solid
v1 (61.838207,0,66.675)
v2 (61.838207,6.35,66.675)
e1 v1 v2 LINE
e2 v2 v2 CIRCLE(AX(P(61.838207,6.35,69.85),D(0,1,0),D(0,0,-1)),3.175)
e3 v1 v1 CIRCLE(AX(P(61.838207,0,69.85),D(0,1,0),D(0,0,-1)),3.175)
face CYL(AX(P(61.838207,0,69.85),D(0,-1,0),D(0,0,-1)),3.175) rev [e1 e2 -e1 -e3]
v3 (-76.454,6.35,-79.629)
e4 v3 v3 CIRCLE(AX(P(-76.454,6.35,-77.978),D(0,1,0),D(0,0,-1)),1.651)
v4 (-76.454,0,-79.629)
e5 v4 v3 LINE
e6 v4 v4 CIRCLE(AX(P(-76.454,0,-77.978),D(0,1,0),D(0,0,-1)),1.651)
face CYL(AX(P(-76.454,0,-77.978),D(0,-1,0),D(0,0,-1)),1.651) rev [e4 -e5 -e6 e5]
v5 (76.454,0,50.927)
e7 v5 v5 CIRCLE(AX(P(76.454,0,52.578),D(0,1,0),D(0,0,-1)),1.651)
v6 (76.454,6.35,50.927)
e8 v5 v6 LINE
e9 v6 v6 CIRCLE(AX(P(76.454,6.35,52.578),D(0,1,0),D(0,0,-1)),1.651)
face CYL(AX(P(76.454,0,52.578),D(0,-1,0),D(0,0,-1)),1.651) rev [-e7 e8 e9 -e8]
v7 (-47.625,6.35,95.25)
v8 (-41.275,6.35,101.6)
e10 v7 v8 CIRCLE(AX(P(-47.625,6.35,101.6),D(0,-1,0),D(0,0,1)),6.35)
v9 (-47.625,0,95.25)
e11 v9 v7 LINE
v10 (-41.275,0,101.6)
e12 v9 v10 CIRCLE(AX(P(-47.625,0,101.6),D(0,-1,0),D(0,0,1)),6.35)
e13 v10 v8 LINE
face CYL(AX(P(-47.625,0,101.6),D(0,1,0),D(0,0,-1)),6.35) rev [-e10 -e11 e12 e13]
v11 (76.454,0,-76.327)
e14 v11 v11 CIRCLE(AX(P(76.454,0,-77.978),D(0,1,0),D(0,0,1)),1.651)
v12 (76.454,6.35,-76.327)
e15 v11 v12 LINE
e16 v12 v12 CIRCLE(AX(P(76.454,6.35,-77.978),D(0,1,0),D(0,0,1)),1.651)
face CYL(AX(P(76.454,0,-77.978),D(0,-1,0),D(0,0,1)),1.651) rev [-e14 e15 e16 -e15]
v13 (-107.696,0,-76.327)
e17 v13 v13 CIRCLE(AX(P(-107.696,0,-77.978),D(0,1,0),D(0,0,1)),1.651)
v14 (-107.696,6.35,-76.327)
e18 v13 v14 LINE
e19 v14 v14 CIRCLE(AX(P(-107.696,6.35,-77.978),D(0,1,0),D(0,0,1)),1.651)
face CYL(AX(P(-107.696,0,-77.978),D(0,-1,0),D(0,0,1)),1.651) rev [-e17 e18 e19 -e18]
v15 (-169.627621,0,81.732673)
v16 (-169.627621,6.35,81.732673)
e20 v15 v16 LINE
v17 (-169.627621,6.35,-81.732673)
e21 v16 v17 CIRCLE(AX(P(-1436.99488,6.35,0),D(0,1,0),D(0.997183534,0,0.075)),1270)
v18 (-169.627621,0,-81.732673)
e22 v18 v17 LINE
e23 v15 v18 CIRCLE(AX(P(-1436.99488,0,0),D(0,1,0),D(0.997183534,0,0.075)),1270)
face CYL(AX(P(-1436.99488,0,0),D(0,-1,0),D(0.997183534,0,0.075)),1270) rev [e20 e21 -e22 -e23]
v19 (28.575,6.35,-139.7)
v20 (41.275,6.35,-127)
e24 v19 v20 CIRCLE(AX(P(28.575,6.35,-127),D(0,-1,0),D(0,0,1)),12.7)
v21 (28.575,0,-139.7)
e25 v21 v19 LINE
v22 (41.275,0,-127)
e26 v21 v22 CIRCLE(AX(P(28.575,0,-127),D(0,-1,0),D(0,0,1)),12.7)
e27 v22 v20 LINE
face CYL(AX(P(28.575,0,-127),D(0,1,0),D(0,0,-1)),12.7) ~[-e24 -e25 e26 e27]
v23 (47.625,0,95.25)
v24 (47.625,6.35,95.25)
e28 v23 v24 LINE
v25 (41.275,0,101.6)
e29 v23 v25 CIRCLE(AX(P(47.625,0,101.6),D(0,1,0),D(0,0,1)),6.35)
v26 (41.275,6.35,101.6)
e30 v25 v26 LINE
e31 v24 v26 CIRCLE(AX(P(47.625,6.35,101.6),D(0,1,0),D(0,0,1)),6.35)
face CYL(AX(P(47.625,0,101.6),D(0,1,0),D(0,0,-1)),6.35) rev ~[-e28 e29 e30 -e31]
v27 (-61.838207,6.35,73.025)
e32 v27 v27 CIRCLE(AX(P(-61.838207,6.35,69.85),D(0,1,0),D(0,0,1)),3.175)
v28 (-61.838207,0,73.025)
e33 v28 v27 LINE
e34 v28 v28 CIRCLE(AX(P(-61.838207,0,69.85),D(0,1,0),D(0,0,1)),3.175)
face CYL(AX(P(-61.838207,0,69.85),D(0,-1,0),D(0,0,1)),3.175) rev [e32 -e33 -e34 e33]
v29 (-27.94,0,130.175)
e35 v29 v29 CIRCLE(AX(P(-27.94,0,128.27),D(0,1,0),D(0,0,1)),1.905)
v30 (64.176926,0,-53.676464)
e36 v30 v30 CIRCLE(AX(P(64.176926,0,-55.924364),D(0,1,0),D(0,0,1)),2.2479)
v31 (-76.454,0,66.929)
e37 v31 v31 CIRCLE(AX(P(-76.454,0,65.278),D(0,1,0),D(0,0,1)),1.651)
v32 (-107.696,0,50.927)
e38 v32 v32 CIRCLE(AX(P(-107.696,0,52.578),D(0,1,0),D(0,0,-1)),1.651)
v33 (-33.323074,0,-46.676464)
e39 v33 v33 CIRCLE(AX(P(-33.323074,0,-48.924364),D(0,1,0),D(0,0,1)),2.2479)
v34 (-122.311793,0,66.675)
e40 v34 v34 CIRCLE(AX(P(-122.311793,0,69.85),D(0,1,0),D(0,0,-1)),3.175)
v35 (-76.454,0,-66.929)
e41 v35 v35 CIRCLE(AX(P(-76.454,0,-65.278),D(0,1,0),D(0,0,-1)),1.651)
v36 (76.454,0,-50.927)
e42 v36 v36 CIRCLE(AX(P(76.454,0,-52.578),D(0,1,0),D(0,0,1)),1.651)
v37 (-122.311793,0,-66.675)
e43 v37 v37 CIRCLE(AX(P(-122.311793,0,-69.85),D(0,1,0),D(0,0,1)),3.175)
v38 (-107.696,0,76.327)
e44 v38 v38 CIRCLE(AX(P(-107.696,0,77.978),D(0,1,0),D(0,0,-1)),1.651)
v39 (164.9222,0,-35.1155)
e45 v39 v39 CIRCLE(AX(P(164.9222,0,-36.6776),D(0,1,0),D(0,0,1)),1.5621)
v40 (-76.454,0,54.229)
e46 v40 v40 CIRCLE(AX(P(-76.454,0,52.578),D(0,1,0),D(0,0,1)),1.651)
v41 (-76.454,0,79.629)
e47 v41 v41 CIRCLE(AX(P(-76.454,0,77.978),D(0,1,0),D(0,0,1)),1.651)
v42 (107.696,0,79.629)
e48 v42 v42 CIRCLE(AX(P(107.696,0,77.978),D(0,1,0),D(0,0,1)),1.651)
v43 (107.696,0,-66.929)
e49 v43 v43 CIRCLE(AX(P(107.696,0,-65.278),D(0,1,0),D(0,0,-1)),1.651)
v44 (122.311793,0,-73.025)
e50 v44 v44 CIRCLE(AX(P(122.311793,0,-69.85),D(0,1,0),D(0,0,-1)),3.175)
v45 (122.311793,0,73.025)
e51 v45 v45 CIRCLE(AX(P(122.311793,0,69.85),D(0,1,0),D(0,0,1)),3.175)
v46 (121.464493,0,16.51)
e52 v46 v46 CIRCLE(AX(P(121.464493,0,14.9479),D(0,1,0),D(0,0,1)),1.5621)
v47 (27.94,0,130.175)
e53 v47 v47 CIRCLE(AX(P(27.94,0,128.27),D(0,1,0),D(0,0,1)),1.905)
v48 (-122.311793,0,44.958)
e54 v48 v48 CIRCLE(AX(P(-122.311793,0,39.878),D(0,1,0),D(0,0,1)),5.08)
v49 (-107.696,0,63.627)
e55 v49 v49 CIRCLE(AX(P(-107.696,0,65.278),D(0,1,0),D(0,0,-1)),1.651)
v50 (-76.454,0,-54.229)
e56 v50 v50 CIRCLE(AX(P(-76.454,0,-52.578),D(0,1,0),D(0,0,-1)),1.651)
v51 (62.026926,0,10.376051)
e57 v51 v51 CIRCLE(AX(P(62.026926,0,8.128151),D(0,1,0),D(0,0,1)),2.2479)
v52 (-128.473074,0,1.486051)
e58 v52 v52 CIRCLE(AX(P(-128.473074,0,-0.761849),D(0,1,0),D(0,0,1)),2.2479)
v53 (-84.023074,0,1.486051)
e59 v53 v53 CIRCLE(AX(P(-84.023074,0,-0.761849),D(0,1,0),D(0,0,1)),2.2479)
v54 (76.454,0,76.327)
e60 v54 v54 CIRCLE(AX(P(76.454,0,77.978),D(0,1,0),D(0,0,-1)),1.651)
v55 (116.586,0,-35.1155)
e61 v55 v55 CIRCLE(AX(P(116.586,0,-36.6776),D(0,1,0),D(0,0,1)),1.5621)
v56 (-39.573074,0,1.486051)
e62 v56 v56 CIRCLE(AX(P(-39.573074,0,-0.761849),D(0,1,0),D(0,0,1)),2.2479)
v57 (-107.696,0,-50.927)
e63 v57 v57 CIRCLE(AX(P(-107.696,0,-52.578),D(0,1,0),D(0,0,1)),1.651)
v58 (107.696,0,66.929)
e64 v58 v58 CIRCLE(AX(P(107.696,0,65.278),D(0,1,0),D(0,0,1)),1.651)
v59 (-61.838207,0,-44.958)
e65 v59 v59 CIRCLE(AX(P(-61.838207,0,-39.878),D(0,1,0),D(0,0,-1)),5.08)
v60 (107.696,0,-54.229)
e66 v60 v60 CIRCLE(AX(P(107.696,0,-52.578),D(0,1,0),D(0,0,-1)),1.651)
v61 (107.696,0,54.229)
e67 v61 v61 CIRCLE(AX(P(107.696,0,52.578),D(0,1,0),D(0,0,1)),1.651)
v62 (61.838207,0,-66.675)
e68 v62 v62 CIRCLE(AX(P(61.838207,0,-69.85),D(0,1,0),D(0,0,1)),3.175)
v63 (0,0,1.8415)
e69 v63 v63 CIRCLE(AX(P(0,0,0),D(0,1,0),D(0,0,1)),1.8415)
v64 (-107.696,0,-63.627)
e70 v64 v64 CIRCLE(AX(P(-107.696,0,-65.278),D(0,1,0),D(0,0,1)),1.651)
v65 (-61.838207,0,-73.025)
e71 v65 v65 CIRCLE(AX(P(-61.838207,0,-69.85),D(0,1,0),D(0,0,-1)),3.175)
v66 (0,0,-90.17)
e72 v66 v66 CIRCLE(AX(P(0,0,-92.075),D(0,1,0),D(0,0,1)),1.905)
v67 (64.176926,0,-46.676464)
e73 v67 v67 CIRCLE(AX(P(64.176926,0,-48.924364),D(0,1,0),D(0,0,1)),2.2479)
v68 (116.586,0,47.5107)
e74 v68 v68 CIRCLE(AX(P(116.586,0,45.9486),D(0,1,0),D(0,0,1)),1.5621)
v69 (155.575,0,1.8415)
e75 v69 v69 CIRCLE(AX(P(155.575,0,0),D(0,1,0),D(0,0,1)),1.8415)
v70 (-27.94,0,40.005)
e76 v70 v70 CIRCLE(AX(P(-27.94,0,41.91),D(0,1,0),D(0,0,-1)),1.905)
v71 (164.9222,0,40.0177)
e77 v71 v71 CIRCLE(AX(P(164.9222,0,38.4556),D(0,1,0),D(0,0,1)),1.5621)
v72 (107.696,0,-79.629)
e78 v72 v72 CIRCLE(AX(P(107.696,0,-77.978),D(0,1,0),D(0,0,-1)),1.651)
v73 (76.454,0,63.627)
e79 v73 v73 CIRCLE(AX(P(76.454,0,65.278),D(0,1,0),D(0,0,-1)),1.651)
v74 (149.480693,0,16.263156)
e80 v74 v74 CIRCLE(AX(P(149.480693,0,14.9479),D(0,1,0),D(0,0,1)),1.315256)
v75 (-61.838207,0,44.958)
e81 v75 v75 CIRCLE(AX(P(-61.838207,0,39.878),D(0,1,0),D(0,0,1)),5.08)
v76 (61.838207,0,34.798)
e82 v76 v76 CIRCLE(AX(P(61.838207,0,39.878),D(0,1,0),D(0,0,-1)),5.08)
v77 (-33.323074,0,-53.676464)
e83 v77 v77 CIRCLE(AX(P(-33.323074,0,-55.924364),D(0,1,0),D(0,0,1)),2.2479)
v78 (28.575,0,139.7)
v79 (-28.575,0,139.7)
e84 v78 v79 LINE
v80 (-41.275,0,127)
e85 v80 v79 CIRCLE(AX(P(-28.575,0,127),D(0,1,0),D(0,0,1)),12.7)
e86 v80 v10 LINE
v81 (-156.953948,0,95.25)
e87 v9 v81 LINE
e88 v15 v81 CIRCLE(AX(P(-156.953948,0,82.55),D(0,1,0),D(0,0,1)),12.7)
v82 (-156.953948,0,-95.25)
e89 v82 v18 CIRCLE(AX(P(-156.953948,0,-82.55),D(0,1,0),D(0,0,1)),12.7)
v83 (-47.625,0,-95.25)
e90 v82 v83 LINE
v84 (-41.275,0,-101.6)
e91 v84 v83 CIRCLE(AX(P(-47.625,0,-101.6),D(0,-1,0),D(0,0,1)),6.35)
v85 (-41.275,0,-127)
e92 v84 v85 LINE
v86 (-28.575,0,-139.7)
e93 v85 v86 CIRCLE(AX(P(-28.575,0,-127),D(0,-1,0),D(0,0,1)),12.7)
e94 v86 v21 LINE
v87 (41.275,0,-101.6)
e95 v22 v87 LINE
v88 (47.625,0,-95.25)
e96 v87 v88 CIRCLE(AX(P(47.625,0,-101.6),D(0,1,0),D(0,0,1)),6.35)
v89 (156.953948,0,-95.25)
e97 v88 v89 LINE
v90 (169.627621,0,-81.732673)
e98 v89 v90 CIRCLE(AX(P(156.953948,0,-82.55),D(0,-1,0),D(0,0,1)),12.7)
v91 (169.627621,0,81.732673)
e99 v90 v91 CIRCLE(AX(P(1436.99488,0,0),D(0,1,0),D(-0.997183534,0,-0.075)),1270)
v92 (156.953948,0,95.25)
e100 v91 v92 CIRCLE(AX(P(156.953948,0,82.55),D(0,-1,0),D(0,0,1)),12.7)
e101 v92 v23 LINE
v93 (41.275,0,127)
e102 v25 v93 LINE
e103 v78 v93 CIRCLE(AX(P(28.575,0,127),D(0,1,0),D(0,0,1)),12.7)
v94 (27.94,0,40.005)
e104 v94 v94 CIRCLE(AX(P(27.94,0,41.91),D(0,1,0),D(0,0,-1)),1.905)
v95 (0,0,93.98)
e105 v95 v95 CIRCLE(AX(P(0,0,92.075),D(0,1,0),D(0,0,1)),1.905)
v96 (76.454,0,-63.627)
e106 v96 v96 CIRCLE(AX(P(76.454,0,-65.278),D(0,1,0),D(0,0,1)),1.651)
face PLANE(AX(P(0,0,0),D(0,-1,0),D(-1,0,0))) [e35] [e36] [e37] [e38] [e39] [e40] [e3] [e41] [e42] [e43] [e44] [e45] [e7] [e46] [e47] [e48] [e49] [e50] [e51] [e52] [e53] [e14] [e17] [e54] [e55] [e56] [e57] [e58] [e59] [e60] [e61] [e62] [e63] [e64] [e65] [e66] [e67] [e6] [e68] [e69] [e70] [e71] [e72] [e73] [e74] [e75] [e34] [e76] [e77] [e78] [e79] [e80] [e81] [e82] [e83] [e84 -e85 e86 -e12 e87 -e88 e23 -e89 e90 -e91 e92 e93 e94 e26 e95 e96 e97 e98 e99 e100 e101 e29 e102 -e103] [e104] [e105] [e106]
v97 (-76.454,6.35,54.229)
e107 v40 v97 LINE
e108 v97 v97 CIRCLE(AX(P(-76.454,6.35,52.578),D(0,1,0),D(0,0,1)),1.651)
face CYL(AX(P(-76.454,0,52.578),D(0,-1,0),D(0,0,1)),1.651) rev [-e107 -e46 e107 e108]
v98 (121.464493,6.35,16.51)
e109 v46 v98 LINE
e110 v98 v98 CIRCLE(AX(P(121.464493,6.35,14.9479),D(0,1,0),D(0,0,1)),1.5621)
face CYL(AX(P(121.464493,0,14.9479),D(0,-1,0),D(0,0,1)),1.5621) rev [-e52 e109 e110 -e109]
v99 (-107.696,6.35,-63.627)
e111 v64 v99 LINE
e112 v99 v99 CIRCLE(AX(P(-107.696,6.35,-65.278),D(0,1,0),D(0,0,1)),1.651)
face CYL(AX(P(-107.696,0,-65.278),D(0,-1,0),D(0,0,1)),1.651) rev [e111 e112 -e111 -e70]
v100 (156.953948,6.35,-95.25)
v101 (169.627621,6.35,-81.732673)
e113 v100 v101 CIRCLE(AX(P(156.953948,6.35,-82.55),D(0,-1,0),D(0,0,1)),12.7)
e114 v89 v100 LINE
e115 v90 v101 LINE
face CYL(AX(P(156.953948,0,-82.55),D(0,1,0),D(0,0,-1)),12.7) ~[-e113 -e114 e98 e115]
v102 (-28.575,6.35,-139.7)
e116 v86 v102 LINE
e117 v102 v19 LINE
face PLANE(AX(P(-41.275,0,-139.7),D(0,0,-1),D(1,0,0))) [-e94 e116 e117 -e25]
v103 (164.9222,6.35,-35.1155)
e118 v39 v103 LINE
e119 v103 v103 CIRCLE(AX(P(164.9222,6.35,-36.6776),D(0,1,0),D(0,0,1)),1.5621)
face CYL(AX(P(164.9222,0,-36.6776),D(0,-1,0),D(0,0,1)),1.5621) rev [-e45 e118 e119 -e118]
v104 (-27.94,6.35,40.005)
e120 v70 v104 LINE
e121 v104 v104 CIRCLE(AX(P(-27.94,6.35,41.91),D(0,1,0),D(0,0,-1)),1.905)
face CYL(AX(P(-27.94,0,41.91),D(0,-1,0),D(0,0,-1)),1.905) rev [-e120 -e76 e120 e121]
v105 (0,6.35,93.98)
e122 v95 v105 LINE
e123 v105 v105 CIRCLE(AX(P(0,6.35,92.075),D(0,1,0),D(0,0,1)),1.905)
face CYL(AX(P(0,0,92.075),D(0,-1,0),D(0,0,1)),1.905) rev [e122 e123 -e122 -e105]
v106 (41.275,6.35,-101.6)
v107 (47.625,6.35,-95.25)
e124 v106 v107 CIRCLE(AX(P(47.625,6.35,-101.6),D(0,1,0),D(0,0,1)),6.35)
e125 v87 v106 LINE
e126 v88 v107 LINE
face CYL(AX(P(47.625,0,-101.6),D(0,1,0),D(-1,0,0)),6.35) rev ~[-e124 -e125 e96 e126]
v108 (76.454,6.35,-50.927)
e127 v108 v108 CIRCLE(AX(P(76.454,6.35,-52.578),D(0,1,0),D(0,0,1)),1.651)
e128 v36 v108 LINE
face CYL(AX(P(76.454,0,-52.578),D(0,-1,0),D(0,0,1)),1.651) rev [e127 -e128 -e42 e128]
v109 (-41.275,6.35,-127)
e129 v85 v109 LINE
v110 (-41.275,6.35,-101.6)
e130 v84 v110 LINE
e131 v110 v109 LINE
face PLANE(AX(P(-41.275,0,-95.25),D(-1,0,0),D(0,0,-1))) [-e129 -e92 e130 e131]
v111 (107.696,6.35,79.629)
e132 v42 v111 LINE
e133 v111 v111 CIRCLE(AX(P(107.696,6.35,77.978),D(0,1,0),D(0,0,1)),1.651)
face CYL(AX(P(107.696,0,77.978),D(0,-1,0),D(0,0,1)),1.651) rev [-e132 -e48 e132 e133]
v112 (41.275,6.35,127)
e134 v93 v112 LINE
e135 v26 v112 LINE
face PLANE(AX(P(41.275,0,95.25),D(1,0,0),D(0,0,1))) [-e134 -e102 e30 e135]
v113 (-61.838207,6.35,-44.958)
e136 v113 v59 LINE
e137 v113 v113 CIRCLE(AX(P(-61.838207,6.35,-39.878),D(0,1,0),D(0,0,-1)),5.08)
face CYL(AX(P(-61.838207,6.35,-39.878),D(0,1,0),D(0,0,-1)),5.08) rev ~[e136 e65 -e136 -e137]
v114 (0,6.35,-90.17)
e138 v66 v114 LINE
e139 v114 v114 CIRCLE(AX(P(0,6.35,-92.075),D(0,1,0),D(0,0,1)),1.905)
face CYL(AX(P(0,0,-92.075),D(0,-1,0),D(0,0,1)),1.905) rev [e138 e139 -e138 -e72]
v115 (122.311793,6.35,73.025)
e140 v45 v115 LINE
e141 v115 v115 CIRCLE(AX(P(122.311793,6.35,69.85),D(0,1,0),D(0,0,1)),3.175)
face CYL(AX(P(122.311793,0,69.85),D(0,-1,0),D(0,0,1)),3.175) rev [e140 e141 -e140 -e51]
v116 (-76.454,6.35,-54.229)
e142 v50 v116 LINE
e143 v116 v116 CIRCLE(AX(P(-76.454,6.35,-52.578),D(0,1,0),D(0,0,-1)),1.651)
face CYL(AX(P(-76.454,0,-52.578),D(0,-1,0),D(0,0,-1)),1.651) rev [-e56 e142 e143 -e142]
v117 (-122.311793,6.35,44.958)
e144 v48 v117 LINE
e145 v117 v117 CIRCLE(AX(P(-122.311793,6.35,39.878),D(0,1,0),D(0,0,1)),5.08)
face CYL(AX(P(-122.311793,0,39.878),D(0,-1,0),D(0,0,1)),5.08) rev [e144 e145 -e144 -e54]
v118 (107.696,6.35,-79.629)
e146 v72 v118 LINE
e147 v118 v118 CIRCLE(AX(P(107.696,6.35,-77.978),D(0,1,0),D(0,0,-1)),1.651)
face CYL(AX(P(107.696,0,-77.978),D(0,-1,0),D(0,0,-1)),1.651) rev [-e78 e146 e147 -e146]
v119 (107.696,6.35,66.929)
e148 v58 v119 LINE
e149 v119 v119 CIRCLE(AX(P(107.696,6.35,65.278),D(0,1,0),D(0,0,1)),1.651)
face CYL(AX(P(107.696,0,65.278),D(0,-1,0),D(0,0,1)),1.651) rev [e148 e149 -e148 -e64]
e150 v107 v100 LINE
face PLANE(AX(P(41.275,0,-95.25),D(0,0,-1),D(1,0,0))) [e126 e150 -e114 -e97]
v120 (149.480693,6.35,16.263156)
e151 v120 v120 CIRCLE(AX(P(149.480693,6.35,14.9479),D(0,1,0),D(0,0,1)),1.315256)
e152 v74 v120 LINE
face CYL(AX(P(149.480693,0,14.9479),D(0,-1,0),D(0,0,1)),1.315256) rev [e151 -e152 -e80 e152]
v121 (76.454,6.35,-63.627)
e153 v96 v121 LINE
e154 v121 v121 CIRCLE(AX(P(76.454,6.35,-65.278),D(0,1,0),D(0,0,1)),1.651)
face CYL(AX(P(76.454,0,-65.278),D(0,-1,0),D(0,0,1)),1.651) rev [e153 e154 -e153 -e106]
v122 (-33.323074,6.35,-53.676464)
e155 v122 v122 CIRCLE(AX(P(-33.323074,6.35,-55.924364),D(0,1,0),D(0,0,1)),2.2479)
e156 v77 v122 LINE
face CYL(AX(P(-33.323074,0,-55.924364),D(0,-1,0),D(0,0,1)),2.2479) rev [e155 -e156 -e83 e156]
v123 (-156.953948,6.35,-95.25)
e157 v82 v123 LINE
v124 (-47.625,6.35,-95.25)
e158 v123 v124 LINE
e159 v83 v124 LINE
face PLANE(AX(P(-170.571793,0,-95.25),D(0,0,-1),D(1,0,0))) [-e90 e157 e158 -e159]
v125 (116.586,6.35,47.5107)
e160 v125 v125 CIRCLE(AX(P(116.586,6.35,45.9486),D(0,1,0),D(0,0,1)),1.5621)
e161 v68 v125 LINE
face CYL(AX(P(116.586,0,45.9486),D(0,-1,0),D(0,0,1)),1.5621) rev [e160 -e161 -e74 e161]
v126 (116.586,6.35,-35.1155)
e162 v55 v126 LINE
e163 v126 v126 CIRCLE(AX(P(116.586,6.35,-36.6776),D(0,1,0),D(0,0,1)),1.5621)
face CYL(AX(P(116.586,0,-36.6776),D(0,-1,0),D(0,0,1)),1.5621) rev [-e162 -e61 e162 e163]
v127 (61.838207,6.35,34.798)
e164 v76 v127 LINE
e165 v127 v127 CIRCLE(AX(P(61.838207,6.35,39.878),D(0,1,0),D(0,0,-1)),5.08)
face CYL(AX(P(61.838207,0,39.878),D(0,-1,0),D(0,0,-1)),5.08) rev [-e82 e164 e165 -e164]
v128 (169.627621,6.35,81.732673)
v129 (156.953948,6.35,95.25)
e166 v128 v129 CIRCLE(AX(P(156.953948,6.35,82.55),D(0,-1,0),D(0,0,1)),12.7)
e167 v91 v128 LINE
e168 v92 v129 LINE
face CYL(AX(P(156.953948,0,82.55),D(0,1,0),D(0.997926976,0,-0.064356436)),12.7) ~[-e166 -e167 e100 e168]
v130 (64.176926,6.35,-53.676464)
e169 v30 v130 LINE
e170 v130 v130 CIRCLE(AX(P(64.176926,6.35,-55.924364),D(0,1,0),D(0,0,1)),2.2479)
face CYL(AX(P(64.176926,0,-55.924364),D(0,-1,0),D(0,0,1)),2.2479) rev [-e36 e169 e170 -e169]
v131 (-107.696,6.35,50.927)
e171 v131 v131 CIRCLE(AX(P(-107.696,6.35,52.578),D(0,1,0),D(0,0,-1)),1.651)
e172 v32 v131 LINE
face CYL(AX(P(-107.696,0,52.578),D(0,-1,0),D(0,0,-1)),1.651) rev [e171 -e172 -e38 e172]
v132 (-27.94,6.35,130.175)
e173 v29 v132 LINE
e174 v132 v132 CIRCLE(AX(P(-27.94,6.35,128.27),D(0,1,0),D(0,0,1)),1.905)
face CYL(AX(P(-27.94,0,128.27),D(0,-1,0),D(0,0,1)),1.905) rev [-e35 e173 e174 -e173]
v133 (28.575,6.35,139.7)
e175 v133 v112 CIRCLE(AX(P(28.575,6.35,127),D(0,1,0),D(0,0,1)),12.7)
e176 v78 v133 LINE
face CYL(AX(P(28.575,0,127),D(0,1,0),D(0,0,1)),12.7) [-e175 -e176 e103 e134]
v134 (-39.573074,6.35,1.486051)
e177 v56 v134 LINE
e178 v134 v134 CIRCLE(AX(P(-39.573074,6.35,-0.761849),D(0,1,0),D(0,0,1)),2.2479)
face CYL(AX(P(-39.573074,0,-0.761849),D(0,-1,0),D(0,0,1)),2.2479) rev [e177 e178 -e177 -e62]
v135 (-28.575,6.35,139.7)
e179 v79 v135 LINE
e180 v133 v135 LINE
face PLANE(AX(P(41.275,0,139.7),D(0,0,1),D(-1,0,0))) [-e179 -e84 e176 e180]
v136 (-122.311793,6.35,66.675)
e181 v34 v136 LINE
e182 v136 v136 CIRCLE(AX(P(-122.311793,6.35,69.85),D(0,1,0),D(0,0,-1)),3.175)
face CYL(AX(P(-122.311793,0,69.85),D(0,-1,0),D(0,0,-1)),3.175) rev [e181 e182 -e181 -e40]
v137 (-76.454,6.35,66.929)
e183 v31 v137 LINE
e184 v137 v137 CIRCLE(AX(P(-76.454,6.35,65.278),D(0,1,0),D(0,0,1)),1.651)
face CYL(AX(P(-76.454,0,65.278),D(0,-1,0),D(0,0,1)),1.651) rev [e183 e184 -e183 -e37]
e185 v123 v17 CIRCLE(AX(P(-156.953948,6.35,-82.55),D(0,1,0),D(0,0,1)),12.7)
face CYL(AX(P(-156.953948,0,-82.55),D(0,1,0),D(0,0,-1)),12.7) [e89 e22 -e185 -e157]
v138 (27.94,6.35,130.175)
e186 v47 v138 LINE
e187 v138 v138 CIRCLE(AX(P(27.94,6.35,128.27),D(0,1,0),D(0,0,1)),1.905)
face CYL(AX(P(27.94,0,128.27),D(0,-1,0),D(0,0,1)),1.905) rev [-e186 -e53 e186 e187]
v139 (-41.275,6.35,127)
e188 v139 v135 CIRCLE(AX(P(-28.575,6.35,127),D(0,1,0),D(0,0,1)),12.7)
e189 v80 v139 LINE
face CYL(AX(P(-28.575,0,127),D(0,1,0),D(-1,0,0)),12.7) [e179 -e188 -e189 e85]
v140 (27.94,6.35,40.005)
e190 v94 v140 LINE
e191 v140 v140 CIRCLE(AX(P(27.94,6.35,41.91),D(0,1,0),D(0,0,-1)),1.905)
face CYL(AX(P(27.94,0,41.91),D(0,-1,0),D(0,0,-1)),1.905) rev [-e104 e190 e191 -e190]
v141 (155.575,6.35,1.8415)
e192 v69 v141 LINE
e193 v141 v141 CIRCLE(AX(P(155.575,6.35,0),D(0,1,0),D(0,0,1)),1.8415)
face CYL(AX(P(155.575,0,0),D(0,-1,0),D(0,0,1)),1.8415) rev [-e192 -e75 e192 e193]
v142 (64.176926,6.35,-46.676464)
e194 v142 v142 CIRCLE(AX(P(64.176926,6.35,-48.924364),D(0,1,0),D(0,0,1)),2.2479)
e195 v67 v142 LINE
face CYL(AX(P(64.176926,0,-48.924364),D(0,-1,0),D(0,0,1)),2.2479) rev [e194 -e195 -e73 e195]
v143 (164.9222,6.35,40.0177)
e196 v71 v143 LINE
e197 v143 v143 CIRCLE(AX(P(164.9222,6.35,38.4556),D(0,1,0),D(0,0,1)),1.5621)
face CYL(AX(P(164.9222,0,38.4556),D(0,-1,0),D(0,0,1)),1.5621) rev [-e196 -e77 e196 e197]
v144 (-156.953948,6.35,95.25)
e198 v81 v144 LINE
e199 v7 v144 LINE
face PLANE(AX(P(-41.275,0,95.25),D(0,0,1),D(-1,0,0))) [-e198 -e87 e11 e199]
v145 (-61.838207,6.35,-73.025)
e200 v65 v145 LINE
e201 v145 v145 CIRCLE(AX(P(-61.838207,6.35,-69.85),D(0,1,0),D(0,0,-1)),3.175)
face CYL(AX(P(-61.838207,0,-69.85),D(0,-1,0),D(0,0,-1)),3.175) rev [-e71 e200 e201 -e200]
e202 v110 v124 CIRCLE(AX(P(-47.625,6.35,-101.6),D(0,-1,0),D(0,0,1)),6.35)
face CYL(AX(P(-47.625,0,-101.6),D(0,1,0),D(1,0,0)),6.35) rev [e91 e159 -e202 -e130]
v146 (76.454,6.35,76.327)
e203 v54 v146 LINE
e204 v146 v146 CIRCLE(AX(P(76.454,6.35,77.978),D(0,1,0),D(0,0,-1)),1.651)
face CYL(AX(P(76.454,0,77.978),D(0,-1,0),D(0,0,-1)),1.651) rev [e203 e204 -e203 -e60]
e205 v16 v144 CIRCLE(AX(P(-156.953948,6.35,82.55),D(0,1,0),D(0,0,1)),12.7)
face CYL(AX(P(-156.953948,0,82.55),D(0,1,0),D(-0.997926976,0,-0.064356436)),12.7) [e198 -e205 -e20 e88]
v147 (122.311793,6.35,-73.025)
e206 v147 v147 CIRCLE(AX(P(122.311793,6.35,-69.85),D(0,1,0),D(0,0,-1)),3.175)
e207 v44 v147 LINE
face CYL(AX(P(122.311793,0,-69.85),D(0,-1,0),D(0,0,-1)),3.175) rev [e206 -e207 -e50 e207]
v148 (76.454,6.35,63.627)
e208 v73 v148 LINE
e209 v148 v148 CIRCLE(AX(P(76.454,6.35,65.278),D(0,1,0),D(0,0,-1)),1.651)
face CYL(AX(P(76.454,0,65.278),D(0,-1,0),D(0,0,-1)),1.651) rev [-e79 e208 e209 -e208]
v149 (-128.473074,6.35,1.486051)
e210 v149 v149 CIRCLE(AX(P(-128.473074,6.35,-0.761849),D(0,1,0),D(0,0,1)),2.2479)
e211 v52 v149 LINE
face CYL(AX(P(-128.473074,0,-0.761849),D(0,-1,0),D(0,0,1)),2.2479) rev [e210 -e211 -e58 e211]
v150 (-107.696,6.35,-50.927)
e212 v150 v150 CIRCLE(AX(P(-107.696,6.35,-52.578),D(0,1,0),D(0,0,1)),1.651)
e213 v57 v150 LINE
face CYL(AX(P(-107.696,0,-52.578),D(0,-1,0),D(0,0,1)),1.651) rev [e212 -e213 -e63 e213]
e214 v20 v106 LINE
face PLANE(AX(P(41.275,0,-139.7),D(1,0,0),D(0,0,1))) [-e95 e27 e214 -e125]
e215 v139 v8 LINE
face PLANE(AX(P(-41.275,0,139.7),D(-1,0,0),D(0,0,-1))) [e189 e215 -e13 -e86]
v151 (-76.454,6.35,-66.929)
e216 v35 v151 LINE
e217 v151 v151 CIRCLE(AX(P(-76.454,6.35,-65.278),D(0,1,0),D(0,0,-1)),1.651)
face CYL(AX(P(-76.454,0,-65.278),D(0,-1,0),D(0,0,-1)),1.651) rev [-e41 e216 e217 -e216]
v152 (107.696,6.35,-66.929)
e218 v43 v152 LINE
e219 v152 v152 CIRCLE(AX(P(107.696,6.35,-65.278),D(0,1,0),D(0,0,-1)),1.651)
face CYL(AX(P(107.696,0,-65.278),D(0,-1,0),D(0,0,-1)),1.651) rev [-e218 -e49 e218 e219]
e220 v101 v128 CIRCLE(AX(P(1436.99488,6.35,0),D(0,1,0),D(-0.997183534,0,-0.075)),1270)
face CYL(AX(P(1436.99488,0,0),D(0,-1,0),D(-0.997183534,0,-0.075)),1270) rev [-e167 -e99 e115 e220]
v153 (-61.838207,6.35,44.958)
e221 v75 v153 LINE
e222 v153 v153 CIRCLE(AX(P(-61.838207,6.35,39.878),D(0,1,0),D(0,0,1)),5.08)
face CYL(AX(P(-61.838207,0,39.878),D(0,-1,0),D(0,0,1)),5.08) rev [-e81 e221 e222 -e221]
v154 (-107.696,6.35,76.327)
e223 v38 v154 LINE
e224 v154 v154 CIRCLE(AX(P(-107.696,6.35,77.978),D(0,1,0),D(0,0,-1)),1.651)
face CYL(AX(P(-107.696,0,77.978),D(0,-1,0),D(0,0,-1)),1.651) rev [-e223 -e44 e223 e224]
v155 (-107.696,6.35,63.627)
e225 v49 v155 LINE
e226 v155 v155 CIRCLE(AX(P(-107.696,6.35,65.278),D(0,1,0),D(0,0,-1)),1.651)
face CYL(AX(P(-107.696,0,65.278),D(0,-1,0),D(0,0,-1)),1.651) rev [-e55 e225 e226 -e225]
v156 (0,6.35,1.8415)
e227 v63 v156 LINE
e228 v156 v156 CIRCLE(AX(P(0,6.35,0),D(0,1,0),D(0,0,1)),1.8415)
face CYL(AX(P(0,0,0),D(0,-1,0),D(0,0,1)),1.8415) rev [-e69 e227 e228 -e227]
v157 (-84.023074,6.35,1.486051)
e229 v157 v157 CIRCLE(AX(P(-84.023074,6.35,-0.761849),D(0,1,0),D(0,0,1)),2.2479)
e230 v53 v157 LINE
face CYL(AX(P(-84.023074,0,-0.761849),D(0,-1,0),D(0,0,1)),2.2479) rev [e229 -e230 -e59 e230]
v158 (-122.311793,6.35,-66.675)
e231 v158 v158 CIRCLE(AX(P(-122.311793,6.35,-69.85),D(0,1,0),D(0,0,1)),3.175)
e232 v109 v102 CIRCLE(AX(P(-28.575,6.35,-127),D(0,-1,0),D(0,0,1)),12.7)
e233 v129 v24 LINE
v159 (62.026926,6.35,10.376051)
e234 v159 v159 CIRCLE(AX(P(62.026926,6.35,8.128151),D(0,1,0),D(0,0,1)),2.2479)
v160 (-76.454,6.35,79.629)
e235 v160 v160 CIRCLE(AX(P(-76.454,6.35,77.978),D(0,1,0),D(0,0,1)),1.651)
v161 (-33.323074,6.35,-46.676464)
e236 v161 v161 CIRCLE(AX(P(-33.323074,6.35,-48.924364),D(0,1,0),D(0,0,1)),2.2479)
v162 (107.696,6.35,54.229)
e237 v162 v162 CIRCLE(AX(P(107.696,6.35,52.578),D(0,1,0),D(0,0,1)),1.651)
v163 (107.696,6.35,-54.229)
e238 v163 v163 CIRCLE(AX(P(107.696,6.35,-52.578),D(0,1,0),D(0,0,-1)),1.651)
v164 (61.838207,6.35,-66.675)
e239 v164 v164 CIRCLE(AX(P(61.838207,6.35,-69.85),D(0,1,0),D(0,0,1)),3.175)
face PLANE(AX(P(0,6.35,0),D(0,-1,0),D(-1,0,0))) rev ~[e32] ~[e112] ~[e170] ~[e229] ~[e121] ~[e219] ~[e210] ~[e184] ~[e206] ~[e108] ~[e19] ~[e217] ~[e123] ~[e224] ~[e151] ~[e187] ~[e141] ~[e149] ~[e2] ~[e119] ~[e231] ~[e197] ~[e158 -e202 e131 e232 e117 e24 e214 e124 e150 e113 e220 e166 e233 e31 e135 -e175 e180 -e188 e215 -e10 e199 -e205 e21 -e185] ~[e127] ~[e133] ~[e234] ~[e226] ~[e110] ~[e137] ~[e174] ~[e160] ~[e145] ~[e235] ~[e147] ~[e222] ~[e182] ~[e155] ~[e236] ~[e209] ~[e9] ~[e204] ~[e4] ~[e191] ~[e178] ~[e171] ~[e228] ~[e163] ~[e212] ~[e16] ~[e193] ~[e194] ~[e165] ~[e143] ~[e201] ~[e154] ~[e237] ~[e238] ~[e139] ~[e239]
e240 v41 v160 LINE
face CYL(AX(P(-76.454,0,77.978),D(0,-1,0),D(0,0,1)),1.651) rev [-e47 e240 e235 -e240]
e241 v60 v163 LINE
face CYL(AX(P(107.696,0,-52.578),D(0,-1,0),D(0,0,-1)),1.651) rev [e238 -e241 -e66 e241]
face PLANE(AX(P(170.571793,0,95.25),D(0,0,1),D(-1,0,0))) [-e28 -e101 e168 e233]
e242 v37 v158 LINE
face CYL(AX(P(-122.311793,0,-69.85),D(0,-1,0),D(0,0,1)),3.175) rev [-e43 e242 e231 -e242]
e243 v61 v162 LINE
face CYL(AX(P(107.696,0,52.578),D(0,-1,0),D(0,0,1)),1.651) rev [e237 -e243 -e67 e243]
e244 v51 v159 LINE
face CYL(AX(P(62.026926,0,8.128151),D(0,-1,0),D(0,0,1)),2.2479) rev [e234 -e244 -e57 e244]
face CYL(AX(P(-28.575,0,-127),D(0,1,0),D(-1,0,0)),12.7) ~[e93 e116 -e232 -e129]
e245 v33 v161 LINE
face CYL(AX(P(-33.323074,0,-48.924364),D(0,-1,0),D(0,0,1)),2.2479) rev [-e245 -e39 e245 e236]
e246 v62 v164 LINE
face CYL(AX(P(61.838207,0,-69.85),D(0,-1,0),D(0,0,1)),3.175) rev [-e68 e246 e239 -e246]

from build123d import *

# Parameters (mm, degrees)
SKETCH1_R              = 1.651
SKETCH1_R_2            = 1.8415
SKETCH1_R_3            = 1.905
SKETCH1_R_4            = 3.175
SKETCH1_R_5            = 1.315256363
SKETCH1_R_6            = 1.5621
SKETCH1_R_7            = 5.08
SKETCH1_R_8            = 2.2479
BOSS_EXTRUDE1_DEPTH    = 6.35
FILLET_OUTER_CORNERS_R = 12.7
FILLET_INNER_CORNERS_R = 6.35
SKETCH2_R              = 5.08
CUT_EXTRUDE1_DEPTH     = 220.86103505


with BuildPart() as part:
    # Sketch1 → Boss-Extrude1 (new body)
    with BuildSketch(Plane(origin=(0, 0, 0), x_dir=(1, 0, 0), z_dir=(0, 1, 0))):
        with BuildLine():
            Line((-142.875, 95.25), (-41.275, 95.25))
            Line((-41.275, 95.25), (-41.275, 139.7))
            Line((-41.275, 139.7), (41.275, 139.7))
            Line((41.275, 139.7), (41.275, 95.25))
            Line((41.275, 95.25), (142.875, 95.25))
            Line((142.875, 95.25), (170.571792564, 95.25))
            ThreePointArc((170.571792564, 95.25), (166.994880438, 0), (170.571792564, -95.25))
            Line((170.571792564, -95.25), (142.875, -95.25))
            Line((142.875, -95.25), (41.275, -95.25))
            Line((41.275, -95.25), (41.275, -139.7))
            Line((41.275, -139.7), (-41.275, -139.7))
            Line((-41.275, -139.7), (-41.275, -95.25))
            Line((-41.275, -95.25), (-142.875, -95.25))
            Line((-142.875, -95.25), (-170.571792564, -95.25))
            ThreePointArc((-170.571792564, -95.25), (-166.994880438, 0), (-170.571792564, 95.25))
            Line((-170.571792564, 95.25), (-142.875, 95.25))
        make_face()
        with Locations(Location((-107.696, 77.978, 0), (0, 0, 270))):
            Circle(SKETCH1_R, mode=Mode.SUBTRACT)
        with Locations(Location((-107.696, 65.278, 0), (0, 0, 270))):
            Circle(SKETCH1_R, mode=Mode.SUBTRACT)
        with Locations(Location((-107.696, 52.578, 0), (0, 0, 270))):
            Circle(SKETCH1_R, mode=Mode.SUBTRACT)
        with Locations(Location((-76.454, 77.978, 0), (0, 0, 90))):
            Circle(SKETCH1_R, mode=Mode.SUBTRACT)
        with Locations(Location((-76.454, 65.278, 0), (0, 0, 90))):
            Circle(SKETCH1_R, mode=Mode.SUBTRACT)
        with Locations(Location((-76.454, 52.578, 0), (0, 0, 90))):
            Circle(SKETCH1_R, mode=Mode.SUBTRACT)
        with Locations(Location((76.454, 52.578, 0), (0, 0, 270))):
            Circle(SKETCH1_R, mode=Mode.SUBTRACT)
        with Locations(Location((107.696, 52.578, 0), (0, 0, 90))):
            Circle(SKETCH1_R, mode=Mode.SUBTRACT)
        with Locations(Location((76.454, 65.278, 0), (0, 0, 270))):
            Circle(SKETCH1_R, mode=Mode.SUBTRACT)
        with Locations(Location((107.696, 65.278, 0), (0, 0, 90))):
            Circle(SKETCH1_R, mode=Mode.SUBTRACT)
        with Locations(Location((76.454, 77.978, 0), (0, 0, 270))):
            Circle(SKETCH1_R, mode=Mode.SUBTRACT)
        with Locations(Location((107.696, 77.978, 0), (0, 0, 90))):
            Circle(SKETCH1_R, mode=Mode.SUBTRACT)
        with Locations(Location((76.454, -52.578, 0), (0, 0, 90))):
            Circle(SKETCH1_R, mode=Mode.SUBTRACT)
        with Locations(Location((107.696, -52.578, 0), (0, 0, 270))):
            Circle(SKETCH1_R, mode=Mode.SUBTRACT)
        with Locations(Location((107.696, -65.278, 0), (0, 0, 270))):
            Circle(SKETCH1_R, mode=Mode.SUBTRACT)
        with Locations(Location((76.454, -65.278, 0), (0, 0, 90))):
            Circle(SKETCH1_R, mode=Mode.SUBTRACT)
        with Locations(Location((107.696, -77.978, 0), (0, 0, 270))):
            Circle(SKETCH1_R, mode=Mode.SUBTRACT)
        with Locations(Location((76.454, -77.978, 0), (0, 0, 90))):
            Circle(SKETCH1_R, mode=Mode.SUBTRACT)
        with Locations(Location((-76.454, -52.578, 0), (0, 0, 270))):
            Circle(SKETCH1_R, mode=Mode.SUBTRACT)
        with Locations(Location((-107.696, -52.578, 0), (0, 0, 90))):
            Circle(SKETCH1_R, mode=Mode.SUBTRACT)
        with Locations(Location((-76.454, -65.278, 0), (0, 0, 270))):
            Circle(SKETCH1_R, mode=Mode.SUBTRACT)
        with Locations(Location((-107.696, -65.278, 0), (0, 0, 90))):
            Circle(SKETCH1_R, mode=Mode.SUBTRACT)
        with Locations(Location((-76.454, -77.978, 0), (0, 0, 270))):
            Circle(SKETCH1_R, mode=Mode.SUBTRACT)
        with Locations(Location((-107.696, -77.978, 0), (0, 0, 90))):
            Circle(SKETCH1_R, mode=Mode.SUBTRACT)
        with Locations(Location((155.575, 0, 0), (0, 0, 270))):
            Circle(SKETCH1_R_2, mode=Mode.SUBTRACT)
        with Locations(Location((-27.94, -128.27, 0), (0, 0, 270))):
            Circle(SKETCH1_R_3, mode=Mode.SUBTRACT)
        with Locations(Location((27.94, -128.27, 0), (0, 0, 270))):
            Circle(SKETCH1_R_3, mode=Mode.SUBTRACT)
        with Locations(Location((-27.94, -41.91, 0), (0, 0, 90))):
            Circle(SKETCH1_R_3, mode=Mode.SUBTRACT)
        with Locations(Location((27.94, -41.91, 0), (0, 0, 90))):
            Circle(SKETCH1_R_3, mode=Mode.SUBTRACT)
        with Locations(Location((0, 0, 0), (0, 0, 270))):
            Circle(SKETCH1_R_2, mode=Mode.SUBTRACT)
        with Locations(Location((-122.311792564, 69.85, 0), (0, 0, 270))):
            Circle(SKETCH1_R_4, mode=Mode.SUBTRACT)
        with Locations(Location((-61.838207436, 69.85, 0), (0, 0, 90))):
            Circle(SKETCH1_R_4, mode=Mode.SUBTRACT)
        with Locations(Location((-61.838207436, -69.85, 0), (0, 0, 270))):
            Circle(SKETCH1_R_4, mode=Mode.SUBTRACT)
        with Locations(Location((-122.311792564, -69.85, 0), (0, 0, 90))):
            Circle(SKETCH1_R_4, mode=Mode.SUBTRACT)
        with Locations(Location((61.838207436, -69.85, 0), (0, 0, 90))):
            Circle(SKETCH1_R_4, mode=Mode.SUBTRACT)
        with Locations(Location((122.311792564, -69.85, 0), (0, 0, 270))):
            Circle(SKETCH1_R_4, mode=Mode.SUBTRACT)
        with Locations(Location((61.838207436, 69.85, 0), (0, 0, 270))):
            Circle(SKETCH1_R_4, mode=Mode.SUBTRACT)
        with Locations(Location((122.311792564, 69.85, 0), (0, 0, 90))):
            Circle(SKETCH1_R_4, mode=Mode.SUBTRACT)
        with Locations(Location((149.480692766, -14.9479, 0), (0, 0, 270))):
            Circle(SKETCH1_R_5, mode=Mode.SUBTRACT)
        with Locations(Location((121.464492766, -14.9479, 0), (0, 0, 270))):
            Circle(SKETCH1_R_6, mode=Mode.SUBTRACT)
        with Locations(Location((116.586, -45.9486, 0), (0, 0, 270))):
            Circle(SKETCH1_R_6, mode=Mode.SUBTRACT)
        with Locations(Location((164.9222, -38.4556, 0), (0, 0, 270))):
            Circle(SKETCH1_R_6, mode=Mode.SUBTRACT)
        with Locations(Location((164.9222, 36.6776, 0), (0, 0, 270))):
            Circle(SKETCH1_R_6, mode=Mode.SUBTRACT)
        with Locations(Location((116.586, 36.6776, 0), (0, 0, 270))):
            Circle(SKETCH1_R_6, mode=Mode.SUBTRACT)
        with Locations(Location((0, -92.075, 0), (0, 0, 270))):
            Circle(SKETCH1_R_3, mode=Mode.SUBTRACT)
        with Locations(Location((0, 92.075, 0), (0, 0, 270))):
            Circle(SKETCH1_R_3, mode=Mode.SUBTRACT)
        with Locations(Location((-61.838207436, -39.878, 0), (0, 0, 270))):
            Circle(SKETCH1_R_7, mode=Mode.SUBTRACT)
        with Locations(Location((-122.311792564, -39.878, 0), (0, 0, 270))):
            Circle(SKETCH1_R_7, mode=Mode.SUBTRACT)
        with Locations(Location((61.838207436, -39.878, 0), (0, 0, 90))):
            Circle(SKETCH1_R_7, mode=Mode.SUBTRACT)
        with Locations(Location((62.026925824, -8.128150569, 0), (0, 0, 270))):
            Circle(SKETCH1_R_8, mode=Mode.SUBTRACT)
        with Locations(Location((64.176925824, 48.924363993, 0), (0, 0, 270))):
            Circle(SKETCH1_R_8, mode=Mode.SUBTRACT)
        with Locations(Location((64.176925824, 55.924363993, 0), (0, 0, 270))):
            Circle(SKETCH1_R_8, mode=Mode.SUBTRACT)
        with Locations(Location((-33.323074176, 55.924363993, 0), (0, 0, 270))):
            Circle(SKETCH1_R_8, mode=Mode.SUBTRACT)
        with Locations(Location((-33.323074176, 48.924363993, 0), (0, 0, 270))):
            Circle(SKETCH1_R_8, mode=Mode.SUBTRACT)
        with Locations(Location((-39.573074176, 0.761849431, 0), (0, 0, 270))):
            Circle(SKETCH1_R_8, mode=Mode.SUBTRACT)
        with Locations(Location((-84.023074176, 0.761849431, 0), (0, 0, 270))):
            Circle(SKETCH1_R_8, mode=Mode.SUBTRACT)
        with Locations(Location((-128.473074176, 0.761849431, 0), (0, 0, 270))):
            Circle(SKETCH1_R_8, mode=Mode.SUBTRACT)
    extrude(amount=BOSS_EXTRUDE1_DEPTH)

    # Fillet_Outer_Corners
    fillet_outer_corners_edges = [part.edges().sort_by_distance(p)[0] for p in [
        (-170.571792564, 3.175, 95.25),
        (-170.571792564, 3.175, -95.25),
        (-41.275, 3.175, -139.7),
        (41.275, 3.175, -139.7),
        (170.571792564, 3.175, -95.25),
        (170.571792564, 3.175, 95.25),
        (41.275, 3.175, 139.7),
        (-41.275, 3.175, 139.7),
    ]]
    fillet(fillet_outer_corners_edges, radius=FILLET_OUTER_CORNERS_R)

    # Fillet_Inner_Corners
    fillet_inner_corners_edges = [part.edges().sort_by_distance(p)[0] for p in [
        (-41.275, 3.175, -95.25),
        (41.275, 3.175, -95.25),
        (41.275, 3.175, 95.25),
        (-41.275, 3.175, 95.25),
    ]]
    fillet(fillet_inner_corners_edges, radius=FILLET_INNER_CORNERS_R)

    # Sketch2 → Cut-Extrude1 (cut, through all)
    with BuildSketch(Plane(origin=(0, 6.35, 0), x_dir=(1, 0, 0), z_dir=(0, 1, 0))):
        with Locations(Location((-61.838207436, 39.878, 0), (0, 0, 90))):
            Circle(SKETCH2_R)
    extrude(amount=-CUT_EXTRUDE1_DEPTH, mode=Mode.SUBTRACT)


solid = part.part
